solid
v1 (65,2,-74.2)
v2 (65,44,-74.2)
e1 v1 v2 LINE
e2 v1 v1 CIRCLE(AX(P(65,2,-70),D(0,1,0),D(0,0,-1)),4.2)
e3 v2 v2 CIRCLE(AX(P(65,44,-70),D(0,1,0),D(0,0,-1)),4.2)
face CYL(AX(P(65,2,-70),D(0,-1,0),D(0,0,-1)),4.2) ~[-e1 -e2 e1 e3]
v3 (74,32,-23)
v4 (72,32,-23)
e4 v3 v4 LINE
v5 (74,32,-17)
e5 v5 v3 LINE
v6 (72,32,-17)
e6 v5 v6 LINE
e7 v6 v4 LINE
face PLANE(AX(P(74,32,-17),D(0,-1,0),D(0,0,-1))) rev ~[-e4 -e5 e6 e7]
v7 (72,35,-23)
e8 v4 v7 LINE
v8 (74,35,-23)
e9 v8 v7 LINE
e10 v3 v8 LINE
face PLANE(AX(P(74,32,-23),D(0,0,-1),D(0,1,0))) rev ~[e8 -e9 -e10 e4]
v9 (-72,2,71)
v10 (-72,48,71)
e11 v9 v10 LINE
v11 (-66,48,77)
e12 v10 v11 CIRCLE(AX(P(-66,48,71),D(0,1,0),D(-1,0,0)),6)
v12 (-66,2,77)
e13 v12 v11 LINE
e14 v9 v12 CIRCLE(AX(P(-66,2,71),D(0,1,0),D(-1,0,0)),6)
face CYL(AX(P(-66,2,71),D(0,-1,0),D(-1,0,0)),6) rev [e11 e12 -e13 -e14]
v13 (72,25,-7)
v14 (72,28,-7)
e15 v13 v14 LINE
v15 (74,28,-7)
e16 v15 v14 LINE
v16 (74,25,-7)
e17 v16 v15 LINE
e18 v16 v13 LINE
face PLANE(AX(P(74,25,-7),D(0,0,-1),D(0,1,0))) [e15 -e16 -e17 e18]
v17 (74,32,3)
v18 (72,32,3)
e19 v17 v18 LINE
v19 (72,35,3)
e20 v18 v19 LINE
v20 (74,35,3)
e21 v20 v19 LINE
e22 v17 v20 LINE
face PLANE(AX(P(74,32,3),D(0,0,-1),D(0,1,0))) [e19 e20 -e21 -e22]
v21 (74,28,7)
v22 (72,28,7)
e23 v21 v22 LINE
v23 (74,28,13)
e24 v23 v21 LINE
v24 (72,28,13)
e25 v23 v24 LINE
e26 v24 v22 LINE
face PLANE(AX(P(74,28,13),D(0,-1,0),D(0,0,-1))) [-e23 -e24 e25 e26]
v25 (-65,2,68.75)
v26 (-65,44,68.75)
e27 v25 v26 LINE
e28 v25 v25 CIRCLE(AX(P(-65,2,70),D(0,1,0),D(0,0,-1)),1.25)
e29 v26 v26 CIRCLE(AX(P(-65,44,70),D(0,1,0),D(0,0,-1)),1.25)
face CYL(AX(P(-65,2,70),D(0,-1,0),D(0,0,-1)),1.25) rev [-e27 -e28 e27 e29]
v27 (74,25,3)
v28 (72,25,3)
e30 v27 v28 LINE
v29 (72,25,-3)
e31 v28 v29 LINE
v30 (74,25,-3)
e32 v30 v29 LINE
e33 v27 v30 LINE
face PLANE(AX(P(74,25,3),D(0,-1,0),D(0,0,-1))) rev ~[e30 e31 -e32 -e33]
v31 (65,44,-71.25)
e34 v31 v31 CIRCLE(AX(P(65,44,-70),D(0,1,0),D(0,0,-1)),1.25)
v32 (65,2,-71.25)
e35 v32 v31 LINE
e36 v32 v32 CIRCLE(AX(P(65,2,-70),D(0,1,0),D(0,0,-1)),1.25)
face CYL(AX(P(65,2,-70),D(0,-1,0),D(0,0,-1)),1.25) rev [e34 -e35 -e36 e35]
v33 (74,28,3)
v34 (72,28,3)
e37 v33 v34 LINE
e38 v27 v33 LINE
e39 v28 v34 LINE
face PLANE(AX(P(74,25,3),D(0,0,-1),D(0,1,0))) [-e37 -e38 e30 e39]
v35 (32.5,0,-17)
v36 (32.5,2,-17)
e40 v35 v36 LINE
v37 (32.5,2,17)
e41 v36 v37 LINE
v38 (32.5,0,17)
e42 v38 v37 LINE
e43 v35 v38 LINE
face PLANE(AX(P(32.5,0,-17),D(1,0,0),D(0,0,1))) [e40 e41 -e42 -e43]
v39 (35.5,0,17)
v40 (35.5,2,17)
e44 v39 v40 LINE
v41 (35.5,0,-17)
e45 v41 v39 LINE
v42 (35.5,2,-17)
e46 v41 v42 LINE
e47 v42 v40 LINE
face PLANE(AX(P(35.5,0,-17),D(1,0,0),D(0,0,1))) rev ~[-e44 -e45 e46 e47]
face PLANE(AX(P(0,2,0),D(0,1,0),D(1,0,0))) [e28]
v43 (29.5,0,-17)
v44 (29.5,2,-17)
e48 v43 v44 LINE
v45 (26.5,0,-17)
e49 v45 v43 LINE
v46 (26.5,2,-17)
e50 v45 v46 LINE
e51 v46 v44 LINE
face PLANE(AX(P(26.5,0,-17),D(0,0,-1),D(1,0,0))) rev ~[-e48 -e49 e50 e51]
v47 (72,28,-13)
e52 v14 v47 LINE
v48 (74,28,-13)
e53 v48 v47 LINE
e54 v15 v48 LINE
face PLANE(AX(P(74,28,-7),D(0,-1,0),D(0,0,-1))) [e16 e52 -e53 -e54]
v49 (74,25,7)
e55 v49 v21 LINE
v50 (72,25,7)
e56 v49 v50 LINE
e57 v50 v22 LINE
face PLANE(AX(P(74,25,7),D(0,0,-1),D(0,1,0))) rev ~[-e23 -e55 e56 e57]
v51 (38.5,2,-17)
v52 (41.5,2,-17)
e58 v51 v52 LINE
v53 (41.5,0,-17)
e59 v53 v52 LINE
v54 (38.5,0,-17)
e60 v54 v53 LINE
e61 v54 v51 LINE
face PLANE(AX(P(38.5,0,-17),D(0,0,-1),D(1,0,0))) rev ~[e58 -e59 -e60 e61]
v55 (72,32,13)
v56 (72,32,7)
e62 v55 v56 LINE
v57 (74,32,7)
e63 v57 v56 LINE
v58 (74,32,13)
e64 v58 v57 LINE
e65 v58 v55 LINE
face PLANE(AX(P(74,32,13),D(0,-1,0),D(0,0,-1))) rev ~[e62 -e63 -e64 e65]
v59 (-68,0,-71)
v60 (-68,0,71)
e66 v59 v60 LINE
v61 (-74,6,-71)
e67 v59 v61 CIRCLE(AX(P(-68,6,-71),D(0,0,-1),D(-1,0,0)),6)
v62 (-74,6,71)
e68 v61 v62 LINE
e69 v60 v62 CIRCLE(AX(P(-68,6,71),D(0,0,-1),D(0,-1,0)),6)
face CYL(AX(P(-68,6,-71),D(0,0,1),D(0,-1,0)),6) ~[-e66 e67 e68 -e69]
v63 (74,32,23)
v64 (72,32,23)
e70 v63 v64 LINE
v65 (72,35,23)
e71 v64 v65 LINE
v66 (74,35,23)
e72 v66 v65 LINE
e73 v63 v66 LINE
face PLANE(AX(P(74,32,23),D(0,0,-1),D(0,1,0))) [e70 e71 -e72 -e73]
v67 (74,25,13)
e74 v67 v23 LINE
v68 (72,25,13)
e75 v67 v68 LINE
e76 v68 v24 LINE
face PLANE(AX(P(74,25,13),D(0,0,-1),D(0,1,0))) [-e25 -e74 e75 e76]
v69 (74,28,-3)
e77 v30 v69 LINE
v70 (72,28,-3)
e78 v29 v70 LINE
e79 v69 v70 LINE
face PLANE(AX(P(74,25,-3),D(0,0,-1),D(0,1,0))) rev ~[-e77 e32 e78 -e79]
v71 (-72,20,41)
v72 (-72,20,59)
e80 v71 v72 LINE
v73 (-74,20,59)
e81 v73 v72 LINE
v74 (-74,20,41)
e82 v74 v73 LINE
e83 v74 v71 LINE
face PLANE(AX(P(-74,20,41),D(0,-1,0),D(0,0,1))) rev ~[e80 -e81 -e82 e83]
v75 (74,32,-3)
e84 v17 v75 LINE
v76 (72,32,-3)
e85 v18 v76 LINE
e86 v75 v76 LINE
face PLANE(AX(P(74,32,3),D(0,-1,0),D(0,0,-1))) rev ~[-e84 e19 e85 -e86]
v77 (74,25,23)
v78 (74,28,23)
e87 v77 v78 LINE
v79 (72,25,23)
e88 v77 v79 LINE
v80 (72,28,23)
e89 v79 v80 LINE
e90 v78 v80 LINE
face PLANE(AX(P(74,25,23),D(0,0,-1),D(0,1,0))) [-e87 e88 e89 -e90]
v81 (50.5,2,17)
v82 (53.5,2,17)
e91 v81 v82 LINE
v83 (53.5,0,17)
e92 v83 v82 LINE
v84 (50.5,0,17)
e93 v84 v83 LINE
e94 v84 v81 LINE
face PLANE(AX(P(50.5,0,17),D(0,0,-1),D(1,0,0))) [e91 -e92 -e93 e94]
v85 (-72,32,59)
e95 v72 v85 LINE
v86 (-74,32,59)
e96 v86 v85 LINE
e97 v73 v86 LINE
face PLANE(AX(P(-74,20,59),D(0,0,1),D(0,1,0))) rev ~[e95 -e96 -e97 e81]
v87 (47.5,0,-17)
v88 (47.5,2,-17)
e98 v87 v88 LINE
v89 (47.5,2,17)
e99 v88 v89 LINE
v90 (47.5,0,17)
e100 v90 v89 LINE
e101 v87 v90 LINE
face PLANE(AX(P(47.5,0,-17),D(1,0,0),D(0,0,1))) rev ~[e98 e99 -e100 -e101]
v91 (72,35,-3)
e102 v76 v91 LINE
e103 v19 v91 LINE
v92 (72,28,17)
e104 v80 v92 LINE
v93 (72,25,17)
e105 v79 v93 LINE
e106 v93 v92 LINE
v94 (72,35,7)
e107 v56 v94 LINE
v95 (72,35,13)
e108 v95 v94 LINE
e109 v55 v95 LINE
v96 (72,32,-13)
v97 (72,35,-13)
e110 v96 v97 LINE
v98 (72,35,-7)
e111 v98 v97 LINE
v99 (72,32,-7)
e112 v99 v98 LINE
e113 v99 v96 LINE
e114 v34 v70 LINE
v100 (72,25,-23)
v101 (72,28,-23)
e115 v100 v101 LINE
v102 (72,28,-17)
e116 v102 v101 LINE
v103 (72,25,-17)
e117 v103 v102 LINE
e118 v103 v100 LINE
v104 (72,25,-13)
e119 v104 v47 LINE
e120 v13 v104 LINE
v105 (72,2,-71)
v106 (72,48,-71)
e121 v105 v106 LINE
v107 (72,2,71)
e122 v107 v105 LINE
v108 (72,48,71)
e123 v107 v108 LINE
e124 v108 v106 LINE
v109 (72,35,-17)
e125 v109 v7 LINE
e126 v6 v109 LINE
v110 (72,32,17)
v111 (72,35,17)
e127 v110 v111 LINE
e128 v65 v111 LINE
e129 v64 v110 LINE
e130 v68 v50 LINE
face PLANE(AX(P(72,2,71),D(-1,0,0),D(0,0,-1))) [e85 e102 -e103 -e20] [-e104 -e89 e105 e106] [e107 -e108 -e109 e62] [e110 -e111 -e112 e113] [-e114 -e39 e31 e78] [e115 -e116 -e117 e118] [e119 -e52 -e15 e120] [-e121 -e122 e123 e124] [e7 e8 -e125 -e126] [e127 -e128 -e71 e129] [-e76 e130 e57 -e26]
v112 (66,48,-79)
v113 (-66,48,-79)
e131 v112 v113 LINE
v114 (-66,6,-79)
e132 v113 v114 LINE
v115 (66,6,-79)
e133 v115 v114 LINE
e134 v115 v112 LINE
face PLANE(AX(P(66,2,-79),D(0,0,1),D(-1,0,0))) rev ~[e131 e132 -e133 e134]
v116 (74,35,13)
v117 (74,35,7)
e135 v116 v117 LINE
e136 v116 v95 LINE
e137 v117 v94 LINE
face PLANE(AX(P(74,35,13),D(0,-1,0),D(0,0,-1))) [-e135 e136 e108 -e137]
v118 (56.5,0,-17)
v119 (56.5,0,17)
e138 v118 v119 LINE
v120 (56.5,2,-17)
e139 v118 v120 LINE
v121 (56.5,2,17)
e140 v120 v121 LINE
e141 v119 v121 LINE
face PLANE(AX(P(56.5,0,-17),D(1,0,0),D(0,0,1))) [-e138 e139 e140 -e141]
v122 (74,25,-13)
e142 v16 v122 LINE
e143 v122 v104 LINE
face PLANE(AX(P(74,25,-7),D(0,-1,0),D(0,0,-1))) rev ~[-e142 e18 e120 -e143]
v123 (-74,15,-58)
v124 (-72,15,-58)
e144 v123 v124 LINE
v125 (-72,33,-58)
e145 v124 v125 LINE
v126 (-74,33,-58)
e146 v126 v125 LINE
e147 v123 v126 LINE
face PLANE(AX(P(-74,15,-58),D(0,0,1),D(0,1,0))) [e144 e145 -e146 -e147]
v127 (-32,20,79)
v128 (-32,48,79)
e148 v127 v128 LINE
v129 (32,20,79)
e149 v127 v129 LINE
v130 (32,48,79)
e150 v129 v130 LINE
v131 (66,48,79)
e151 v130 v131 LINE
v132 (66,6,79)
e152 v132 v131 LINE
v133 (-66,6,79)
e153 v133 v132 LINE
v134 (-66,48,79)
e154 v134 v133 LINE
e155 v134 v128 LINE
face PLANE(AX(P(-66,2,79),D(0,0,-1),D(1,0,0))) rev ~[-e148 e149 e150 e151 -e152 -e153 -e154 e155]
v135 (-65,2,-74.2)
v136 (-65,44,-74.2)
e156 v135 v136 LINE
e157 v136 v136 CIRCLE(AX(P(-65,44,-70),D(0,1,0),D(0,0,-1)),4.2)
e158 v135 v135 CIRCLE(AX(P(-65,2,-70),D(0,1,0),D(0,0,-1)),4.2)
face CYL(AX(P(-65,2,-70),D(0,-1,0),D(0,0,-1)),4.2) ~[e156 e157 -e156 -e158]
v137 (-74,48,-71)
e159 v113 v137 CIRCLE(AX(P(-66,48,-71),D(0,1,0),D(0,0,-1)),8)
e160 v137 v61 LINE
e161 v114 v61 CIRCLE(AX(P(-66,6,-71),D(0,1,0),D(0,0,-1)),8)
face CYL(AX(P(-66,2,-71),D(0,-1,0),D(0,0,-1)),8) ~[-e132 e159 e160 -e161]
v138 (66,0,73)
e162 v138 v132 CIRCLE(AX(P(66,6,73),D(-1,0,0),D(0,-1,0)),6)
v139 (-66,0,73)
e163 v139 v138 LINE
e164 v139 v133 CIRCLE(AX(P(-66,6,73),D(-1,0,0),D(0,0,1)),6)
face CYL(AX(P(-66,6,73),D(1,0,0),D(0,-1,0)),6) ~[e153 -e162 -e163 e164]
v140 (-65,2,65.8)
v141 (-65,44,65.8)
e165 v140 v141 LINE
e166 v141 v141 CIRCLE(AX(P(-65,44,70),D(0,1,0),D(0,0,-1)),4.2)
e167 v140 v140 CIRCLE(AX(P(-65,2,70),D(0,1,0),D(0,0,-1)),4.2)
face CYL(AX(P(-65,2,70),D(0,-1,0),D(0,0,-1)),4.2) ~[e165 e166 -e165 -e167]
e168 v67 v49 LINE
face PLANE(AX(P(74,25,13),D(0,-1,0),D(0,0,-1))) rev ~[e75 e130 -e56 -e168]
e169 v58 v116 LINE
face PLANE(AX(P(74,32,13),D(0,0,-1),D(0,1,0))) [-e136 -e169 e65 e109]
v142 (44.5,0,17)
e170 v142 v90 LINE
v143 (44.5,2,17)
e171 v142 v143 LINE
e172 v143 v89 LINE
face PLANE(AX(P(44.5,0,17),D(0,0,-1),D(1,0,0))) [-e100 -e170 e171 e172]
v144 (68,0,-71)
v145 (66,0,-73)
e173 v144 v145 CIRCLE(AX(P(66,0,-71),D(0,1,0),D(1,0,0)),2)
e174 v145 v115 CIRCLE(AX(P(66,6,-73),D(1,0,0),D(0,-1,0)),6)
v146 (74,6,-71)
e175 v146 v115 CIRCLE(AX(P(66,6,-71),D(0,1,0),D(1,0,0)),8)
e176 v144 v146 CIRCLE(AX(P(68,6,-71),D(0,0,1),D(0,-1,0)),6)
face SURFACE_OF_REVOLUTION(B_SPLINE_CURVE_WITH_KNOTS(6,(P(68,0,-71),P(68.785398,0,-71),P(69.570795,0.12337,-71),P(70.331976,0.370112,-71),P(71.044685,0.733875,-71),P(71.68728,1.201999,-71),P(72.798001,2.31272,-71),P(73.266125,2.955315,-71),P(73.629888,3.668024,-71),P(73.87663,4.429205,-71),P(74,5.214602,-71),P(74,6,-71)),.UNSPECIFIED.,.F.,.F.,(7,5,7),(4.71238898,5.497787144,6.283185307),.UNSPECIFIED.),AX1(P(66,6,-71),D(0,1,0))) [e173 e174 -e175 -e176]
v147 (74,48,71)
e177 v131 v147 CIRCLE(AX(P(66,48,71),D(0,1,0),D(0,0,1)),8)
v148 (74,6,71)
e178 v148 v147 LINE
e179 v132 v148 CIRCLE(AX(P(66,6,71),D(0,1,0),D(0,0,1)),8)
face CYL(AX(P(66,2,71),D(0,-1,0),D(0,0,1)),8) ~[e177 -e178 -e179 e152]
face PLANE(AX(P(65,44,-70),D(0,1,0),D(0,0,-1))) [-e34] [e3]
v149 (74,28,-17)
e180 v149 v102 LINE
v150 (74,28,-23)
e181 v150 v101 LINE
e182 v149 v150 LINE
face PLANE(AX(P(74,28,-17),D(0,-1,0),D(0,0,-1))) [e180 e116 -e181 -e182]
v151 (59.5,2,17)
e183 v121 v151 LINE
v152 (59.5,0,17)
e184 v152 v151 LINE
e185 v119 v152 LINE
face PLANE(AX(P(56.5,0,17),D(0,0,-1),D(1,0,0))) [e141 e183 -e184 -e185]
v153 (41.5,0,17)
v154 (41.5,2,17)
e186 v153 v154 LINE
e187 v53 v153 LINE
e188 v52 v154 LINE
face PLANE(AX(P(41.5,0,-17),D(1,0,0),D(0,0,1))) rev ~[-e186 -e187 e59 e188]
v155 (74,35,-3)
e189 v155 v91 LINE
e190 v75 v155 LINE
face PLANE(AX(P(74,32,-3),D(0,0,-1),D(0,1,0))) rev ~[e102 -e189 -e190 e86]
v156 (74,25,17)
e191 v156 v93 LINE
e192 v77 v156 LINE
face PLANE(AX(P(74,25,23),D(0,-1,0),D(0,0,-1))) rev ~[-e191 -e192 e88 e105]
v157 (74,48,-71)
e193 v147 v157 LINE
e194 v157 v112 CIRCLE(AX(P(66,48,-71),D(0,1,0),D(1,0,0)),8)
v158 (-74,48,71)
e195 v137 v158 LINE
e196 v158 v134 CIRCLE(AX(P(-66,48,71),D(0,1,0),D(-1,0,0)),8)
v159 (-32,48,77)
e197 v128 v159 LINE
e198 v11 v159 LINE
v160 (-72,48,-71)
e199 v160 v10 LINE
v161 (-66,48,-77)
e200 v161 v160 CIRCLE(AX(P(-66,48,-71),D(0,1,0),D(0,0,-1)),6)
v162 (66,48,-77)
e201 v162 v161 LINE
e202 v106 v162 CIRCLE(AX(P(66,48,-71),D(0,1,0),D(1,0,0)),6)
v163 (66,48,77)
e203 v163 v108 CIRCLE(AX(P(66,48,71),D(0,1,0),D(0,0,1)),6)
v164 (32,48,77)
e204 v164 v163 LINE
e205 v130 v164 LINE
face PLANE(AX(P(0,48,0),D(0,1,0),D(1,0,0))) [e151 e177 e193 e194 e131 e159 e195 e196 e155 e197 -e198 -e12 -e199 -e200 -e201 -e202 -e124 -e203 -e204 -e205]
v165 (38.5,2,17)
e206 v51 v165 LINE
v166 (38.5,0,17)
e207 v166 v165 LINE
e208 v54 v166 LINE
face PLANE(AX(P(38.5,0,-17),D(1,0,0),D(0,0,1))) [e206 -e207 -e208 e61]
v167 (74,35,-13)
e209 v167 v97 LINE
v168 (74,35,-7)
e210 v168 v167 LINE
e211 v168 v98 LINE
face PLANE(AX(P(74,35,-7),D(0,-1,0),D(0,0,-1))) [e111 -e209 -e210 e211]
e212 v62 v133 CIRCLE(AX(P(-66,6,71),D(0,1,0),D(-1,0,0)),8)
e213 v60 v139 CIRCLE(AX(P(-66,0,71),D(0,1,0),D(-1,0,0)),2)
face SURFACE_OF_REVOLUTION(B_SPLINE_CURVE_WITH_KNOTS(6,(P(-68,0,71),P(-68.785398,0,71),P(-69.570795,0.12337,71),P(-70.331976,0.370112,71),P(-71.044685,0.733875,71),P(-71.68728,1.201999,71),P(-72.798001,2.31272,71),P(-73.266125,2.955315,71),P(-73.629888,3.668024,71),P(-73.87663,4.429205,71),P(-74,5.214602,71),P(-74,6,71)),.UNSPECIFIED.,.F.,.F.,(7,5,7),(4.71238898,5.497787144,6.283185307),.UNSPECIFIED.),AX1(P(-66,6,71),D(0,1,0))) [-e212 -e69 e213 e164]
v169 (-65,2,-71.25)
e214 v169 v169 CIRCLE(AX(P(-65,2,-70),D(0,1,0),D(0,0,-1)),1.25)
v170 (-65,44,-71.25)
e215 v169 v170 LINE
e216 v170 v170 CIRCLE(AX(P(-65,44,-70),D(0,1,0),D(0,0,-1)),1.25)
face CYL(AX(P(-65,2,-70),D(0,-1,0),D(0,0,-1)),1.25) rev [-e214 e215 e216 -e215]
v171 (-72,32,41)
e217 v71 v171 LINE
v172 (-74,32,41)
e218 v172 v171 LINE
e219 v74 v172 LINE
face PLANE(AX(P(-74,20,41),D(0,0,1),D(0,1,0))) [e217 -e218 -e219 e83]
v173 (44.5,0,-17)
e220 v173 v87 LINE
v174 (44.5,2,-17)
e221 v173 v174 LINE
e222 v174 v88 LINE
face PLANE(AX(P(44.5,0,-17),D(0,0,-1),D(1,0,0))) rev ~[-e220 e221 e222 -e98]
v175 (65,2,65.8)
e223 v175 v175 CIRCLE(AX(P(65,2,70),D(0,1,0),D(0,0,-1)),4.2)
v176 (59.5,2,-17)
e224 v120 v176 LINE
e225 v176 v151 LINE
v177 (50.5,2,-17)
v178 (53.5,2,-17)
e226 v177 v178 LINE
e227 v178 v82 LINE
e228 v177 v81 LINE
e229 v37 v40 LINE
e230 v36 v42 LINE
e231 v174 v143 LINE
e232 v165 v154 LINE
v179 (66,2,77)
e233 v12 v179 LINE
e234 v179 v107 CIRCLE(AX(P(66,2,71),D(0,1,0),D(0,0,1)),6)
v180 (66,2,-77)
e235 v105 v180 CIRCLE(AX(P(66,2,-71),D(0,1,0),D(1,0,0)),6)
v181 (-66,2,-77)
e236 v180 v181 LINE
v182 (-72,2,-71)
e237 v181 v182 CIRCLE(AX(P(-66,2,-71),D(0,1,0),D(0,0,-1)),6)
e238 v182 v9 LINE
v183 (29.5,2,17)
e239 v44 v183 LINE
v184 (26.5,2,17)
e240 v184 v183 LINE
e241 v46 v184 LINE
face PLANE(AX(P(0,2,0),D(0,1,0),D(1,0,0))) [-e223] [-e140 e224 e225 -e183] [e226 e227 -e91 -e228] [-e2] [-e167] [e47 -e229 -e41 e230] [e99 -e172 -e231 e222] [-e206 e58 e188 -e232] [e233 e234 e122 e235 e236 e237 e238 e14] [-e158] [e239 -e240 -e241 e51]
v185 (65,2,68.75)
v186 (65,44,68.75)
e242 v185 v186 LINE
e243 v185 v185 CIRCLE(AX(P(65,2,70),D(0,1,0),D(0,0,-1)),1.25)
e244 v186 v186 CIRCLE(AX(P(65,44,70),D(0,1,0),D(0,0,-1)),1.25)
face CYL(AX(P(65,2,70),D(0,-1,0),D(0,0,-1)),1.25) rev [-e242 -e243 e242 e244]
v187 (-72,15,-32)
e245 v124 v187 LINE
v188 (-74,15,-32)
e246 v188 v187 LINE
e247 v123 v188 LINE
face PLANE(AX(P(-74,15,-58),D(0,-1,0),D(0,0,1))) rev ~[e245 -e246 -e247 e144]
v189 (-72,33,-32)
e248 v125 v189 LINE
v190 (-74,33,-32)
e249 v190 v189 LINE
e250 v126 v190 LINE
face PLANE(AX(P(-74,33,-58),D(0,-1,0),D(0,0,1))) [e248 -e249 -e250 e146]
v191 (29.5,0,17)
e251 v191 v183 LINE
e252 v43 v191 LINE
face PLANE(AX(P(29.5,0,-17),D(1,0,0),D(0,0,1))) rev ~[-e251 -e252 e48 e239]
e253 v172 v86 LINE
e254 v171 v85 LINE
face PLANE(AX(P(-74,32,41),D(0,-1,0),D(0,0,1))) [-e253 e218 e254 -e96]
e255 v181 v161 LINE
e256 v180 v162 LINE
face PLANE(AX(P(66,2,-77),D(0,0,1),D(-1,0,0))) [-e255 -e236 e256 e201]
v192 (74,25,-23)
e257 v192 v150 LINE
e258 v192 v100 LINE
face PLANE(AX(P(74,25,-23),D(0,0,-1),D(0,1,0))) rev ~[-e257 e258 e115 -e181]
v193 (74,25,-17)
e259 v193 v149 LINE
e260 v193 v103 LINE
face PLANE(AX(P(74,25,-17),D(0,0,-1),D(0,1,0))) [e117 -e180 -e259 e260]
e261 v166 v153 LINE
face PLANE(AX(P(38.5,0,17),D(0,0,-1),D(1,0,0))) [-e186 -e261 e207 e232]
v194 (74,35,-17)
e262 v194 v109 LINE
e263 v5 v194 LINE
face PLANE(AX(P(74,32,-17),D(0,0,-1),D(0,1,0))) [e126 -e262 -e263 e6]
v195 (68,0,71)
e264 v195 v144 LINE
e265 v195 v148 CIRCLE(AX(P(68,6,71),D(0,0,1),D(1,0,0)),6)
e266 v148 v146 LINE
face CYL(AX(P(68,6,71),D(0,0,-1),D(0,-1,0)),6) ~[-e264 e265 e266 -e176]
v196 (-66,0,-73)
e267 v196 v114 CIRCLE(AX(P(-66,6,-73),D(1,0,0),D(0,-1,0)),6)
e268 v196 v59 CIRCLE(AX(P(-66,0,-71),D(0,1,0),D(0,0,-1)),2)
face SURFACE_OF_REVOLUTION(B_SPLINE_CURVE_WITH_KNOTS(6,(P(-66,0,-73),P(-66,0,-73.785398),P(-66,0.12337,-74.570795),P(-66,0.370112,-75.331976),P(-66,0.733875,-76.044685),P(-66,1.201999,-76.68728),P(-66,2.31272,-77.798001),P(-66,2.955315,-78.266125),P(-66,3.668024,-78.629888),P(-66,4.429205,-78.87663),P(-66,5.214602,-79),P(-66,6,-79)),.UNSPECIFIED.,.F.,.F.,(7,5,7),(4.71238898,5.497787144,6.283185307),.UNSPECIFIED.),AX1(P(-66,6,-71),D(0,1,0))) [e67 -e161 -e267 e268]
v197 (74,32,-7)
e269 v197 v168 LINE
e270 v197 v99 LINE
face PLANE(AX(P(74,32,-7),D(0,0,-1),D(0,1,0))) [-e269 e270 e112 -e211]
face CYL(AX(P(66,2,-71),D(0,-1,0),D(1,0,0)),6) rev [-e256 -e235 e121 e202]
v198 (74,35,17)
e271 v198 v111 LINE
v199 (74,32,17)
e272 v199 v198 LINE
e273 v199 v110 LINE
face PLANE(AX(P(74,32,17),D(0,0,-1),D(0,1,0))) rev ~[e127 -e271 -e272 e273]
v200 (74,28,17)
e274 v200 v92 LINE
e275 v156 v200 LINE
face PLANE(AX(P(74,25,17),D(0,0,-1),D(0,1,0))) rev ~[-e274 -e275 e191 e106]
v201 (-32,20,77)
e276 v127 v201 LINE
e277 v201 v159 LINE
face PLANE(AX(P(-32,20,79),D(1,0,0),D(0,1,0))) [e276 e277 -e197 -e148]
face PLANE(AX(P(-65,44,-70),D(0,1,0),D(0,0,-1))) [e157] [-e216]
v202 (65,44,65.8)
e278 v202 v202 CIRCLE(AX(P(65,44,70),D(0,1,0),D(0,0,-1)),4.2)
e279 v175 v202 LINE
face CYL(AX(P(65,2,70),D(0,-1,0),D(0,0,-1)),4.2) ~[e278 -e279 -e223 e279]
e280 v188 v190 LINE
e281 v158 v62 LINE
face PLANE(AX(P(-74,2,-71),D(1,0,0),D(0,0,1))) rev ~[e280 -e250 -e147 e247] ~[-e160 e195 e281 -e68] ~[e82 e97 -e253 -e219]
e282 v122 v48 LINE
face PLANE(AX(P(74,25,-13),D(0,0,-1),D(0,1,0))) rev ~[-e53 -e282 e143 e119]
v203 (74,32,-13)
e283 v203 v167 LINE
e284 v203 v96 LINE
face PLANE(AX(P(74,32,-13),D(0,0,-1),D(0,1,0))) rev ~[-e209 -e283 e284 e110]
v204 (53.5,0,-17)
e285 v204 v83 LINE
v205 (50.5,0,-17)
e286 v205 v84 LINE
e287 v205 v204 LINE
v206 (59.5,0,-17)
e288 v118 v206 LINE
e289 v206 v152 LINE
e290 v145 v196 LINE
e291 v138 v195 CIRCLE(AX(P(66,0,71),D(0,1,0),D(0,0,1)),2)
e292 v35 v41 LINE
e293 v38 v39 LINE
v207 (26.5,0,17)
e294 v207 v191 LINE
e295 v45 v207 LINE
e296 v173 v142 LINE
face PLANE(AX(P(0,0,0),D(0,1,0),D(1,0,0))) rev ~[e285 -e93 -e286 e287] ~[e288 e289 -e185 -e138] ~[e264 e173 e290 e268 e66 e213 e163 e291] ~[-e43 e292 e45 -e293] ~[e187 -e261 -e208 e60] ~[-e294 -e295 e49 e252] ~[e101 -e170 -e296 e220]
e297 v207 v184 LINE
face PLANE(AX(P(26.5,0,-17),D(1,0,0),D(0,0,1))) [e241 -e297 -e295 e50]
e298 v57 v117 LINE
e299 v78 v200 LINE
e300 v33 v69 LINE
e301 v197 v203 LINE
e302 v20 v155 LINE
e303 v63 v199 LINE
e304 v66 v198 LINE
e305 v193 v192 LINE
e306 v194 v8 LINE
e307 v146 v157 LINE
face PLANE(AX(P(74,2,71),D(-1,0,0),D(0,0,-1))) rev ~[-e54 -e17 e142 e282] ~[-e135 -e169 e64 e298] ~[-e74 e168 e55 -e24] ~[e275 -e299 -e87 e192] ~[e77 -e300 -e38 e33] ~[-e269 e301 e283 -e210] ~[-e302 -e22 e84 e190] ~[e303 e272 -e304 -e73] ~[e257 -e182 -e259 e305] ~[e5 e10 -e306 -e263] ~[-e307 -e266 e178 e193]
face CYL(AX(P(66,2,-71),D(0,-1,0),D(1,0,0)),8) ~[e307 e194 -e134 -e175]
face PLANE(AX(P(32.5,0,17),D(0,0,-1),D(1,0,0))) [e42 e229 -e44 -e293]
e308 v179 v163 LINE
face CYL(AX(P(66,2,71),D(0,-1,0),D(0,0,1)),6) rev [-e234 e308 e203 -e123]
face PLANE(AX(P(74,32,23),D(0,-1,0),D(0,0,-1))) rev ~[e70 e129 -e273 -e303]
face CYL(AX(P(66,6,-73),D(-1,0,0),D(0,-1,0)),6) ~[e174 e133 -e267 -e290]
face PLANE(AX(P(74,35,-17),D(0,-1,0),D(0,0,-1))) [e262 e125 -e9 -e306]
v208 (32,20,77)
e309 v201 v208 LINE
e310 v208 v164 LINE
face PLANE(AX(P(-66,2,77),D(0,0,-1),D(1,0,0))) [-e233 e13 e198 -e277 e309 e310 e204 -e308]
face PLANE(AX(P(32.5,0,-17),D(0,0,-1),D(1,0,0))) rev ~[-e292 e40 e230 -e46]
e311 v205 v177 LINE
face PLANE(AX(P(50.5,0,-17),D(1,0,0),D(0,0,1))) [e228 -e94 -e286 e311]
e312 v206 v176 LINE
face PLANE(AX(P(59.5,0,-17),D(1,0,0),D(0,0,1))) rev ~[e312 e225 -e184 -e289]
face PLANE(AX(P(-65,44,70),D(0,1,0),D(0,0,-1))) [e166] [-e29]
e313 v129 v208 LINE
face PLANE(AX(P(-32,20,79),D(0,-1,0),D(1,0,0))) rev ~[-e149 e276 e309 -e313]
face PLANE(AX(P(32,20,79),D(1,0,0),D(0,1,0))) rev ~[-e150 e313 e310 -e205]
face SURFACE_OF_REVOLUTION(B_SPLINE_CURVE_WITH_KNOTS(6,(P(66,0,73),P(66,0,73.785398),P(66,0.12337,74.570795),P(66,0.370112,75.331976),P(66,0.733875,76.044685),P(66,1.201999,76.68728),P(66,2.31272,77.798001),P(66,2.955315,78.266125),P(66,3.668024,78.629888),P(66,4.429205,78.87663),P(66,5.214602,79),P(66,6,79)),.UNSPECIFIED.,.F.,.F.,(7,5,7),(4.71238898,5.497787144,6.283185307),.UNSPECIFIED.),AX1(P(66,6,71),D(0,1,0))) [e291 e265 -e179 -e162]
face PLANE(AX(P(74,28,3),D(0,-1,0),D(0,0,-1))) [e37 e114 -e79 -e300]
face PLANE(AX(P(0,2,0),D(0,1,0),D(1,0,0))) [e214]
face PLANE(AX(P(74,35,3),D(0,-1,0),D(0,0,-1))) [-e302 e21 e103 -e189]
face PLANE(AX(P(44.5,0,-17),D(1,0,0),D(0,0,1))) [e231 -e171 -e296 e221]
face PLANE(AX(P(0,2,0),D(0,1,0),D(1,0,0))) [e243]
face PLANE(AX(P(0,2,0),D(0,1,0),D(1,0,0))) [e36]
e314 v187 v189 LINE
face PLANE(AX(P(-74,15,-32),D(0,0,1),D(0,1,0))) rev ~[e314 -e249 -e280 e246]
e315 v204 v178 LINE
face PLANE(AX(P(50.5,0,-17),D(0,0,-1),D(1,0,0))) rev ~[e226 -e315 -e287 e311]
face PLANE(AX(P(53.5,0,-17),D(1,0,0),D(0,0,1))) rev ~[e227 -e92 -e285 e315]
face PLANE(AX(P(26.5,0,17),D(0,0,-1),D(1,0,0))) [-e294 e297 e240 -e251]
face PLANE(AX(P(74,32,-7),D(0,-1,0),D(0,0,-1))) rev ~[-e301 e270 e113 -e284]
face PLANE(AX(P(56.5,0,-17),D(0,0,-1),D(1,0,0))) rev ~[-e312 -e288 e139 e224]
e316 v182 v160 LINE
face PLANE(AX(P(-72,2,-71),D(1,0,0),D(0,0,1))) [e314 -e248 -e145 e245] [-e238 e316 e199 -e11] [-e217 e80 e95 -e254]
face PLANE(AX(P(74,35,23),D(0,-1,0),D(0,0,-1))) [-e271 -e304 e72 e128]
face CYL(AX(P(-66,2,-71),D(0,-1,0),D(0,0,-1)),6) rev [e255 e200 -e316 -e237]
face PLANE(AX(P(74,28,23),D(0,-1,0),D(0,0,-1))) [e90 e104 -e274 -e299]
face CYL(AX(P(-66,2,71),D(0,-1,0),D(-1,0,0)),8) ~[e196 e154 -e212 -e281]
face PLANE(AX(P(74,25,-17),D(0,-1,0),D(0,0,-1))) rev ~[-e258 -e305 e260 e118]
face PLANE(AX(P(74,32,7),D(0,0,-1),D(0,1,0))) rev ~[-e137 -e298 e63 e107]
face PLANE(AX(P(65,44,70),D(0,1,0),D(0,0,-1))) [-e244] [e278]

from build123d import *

# Parameters (mm, degrees)
BOSS_EXTRUDE1_DEPTH = 2
BOSS_EXTRUDE2_DEPTH = 46
SKETCH5_R           = 4.2
SKETCH5_R_2         = 1.25
BOSS_EXTRUDE3_DEPTH = 42
FILLET1_R           = 6
SKETCH7_W           = 18
SKETCH7_H           = 12
SKETCH7_W_2         = 26
SKETCH7_H_2         = 18
CUT_EXTRUDE5_DEPTH  = 2
SKETCH9_W           = 6
SKETCH9_H           = 3
CUT_EXTRUDE7_DEPTH  = 2
SKETCH10_W          = 64
SKETCH10_H          = 28
CUT_EXTRUDE8_DEPTH  = 2
SKETCH11_W          = 3
SKETCH11_H          = 34
CUT_EXTRUDE9_DEPTH  = 2


with BuildPart() as part:
    # Sketch3 → Boss-Extrude1 (new body)
    with BuildSketch(Plane(origin=(0, 0, 0), x_dir=(1, 0, 0), z_dir=(0, 1, 0))):
        with BuildLine():
            Line((-66, -79), (66, -79))
            ThreePointArc((66, -79), (71.656854249, -76.656854249), (74, -71))
            Line((74, -71), (74, 71))
            ThreePointArc((74, 71), (71.656854249, 76.656854249), (66, 79))
            Line((66, 79), (-66, 79))
            ThreePointArc((-66, 79), (-71.656854249, 76.656854249), (-74, 71))
            Line((-74, 71), (-74, -71))
            ThreePointArc((-74, -71), (-71.656854249, -76.656854249), (-66, -79))
        make_face()
    extrude(amount=BOSS_EXTRUDE1_DEPTH)

    # Sketch4 → Boss-Extrude2 (add)
    with BuildSketch(Plane(origin=(0, 2, 0), x_dir=(1, 0, 0), z_dir=(0, 1, 0))):
        with BuildLine():
            Line((-66, -79), (66, -79))
            ThreePointArc((66, -79), (71.656854249, -76.656854249), (74, -71))
            Line((74, -71), (74, 71))
            ThreePointArc((74, 71), (71.656854249, 76.656854249), (66, 79))
            Line((66, 79), (-66, 79))
            ThreePointArc((-66, 79), (-71.656854249, 76.656854249), (-74, 71))
            Line((-74, 71), (-74, -71))
            ThreePointArc((-74, -71), (-71.656854249, -76.656854249), (-66, -79))
        make_face()
        with BuildLine():
            Line((-66, -77), (66, -77))
            ThreePointArc((66, -77), (70.242640687, -75.242640687), (72, -71))
            Line((72, -71), (72, 71))
            ThreePointArc((72, 71), (70.242640687, 75.242640687), (66, 77))
            Line((66, 77), (-66, 77))
            ThreePointArc((-66, 77), (-70.242640687, 75.242640687), (-72, 71))
            Line((-72, 71), (-72, -71))
            ThreePointArc((-72, -71), (-70.242640687, -75.242640687), (-66, -77))
        make_face(mode=Mode.SUBTRACT)
    extrude(amount=BOSS_EXTRUDE2_DEPTH)

    # Sketch5 → Boss-Extrude3 (add)
    # profile 1 of 4: a face of its own
    with BuildSketch(Plane(origin=(0, 2, 0), x_dir=(1, 0, 0), z_dir=(0, 1, 0))):
        with Locations((-65, 70)):
            Circle(SKETCH5_R)
        with Locations((-65, 70)):
            Circle(SKETCH5_R_2, mode=Mode.SUBTRACT)
    # profile 2 of 4: a face of its own
    with BuildSketch(Plane(origin=(0, 2, 0), x_dir=(1, 0, 0), z_dir=(0, 1, 0))):
        with Locations((65, 70)):
            Circle(SKETCH5_R)
        with Locations((65, 70)):
            Circle(SKETCH5_R_2, mode=Mode.SUBTRACT)
    # profile 3 of 4: a face of its own
    with BuildSketch(Plane(origin=(0, 2, 0), x_dir=(1, 0, 0), z_dir=(0, 1, 0))):
        with Locations((65, -70)):
            Circle(SKETCH5_R)
        with Locations((65, -70)):
            Circle(SKETCH5_R_2, mode=Mode.SUBTRACT)
    # profile 4 of 4: a face of its own
    with BuildSketch(Plane(origin=(0, 2, 0), x_dir=(1, 0, 0), z_dir=(0, 1, 0))):
        with Locations((-65, -70)):
            Circle(SKETCH5_R)
        with Locations((-65, -70)):
            Circle(SKETCH5_R_2, mode=Mode.SUBTRACT)
    extrude(amount=BOSS_EXTRUDE3_DEPTH)

    # Fillet1
    fillet1_edges = [part.edges().sort_by_distance(p)[0] for p in [
        (-71.656854249, 0, 76.656854249),
        (-71.656854249, 0, -76.656854249),
        (-74, 0, 0),
        (71.656854249, 0, -76.656854249),
        (0, 0, -79),
        (74, 0, 0),
        (71.656854249, 0, 76.656854249),
        (0, 0, 79),
    ]]
    fillet(fillet1_edges, radius=FILLET1_R)

    # Sketch7 → Cut-Extrude5 (cut)
    with BuildSketch(Plane.ZY.offset(74)):
        with Locations((50, 26)):
            Rectangle(SKETCH7_W, SKETCH7_H)
        with Locations((-45, 24)):
            Rectangle(SKETCH7_W_2, SKETCH7_H_2)
    extrude(amount=-CUT_EXTRUDE5_DEPTH, mode=Mode.SUBTRACT)

    # Sketch9 → Cut-Extrude7 (cut)
    with BuildSketch(Plane(origin=(74, 0, 0), x_dir=(0, 0, -1), z_dir=(1, 0, 0))):
        with Locations((0, 33.5)):
            Rectangle(SKETCH9_W, SKETCH9_H)
        with Locations((0, 26.5)):
            Rectangle(SKETCH9_W, SKETCH9_H)
        with Locations((-10, 33.5)):
            Rectangle(SKETCH9_W, SKETCH9_H)
        with Locations((-10, 26.5)):
            Rectangle(SKETCH9_W, SKETCH9_H)
        with Locations((-20, 26.5)):
            Rectangle(SKETCH9_W, SKETCH9_H)
        with Locations((-20, 33.5)):
            Rectangle(SKETCH9_W, SKETCH9_H)
        with Locations((20, 33.5)):
            Rectangle(SKETCH9_W, SKETCH9_H)
        with Locations((20, 26.5)):
            Rectangle(SKETCH9_W, SKETCH9_H)
        with Locations((10, 26.5)):
            Rectangle(SKETCH9_W, SKETCH9_H)
        with Locations((10, 33.5)):
            Rectangle(SKETCH9_W, SKETCH9_H)
    extrude(amount=-CUT_EXTRUDE7_DEPTH, mode=Mode.SUBTRACT)

    # Sketch10 → Cut-Extrude8 (cut)
    with BuildSketch(Plane.XY.offset(79)):
        with Locations((0, 34)):
            Rectangle(SKETCH10_W, SKETCH10_H)
    extrude(amount=-CUT_EXTRUDE8_DEPTH, mode=Mode.SUBTRACT)

    # Sketch11 → Cut-Extrude9 (cut)
    with BuildSketch(Plane.XZ):
        with Locations((58, 0)):
            Rectangle(SKETCH11_W, SKETCH11_H)
        with Locations((46, 0)):
            Rectangle(SKETCH11_W, SKETCH11_H)
        with Locations((52, 0)):
            Rectangle(SKETCH11_W, SKETCH11_H)
        with Locations((40, 0)):
            Rectangle(SKETCH11_W, SKETCH11_H)
        with Locations((34, 0)):
            Rectangle(SKETCH11_W, SKETCH11_H)
        with Locations((28, 0)):
            Rectangle(SKETCH11_W, SKETCH11_H)
    extrude(amount=-CUT_EXTRUDE9_DEPTH, mode=Mode.SUBTRACT)


solid = part.part
